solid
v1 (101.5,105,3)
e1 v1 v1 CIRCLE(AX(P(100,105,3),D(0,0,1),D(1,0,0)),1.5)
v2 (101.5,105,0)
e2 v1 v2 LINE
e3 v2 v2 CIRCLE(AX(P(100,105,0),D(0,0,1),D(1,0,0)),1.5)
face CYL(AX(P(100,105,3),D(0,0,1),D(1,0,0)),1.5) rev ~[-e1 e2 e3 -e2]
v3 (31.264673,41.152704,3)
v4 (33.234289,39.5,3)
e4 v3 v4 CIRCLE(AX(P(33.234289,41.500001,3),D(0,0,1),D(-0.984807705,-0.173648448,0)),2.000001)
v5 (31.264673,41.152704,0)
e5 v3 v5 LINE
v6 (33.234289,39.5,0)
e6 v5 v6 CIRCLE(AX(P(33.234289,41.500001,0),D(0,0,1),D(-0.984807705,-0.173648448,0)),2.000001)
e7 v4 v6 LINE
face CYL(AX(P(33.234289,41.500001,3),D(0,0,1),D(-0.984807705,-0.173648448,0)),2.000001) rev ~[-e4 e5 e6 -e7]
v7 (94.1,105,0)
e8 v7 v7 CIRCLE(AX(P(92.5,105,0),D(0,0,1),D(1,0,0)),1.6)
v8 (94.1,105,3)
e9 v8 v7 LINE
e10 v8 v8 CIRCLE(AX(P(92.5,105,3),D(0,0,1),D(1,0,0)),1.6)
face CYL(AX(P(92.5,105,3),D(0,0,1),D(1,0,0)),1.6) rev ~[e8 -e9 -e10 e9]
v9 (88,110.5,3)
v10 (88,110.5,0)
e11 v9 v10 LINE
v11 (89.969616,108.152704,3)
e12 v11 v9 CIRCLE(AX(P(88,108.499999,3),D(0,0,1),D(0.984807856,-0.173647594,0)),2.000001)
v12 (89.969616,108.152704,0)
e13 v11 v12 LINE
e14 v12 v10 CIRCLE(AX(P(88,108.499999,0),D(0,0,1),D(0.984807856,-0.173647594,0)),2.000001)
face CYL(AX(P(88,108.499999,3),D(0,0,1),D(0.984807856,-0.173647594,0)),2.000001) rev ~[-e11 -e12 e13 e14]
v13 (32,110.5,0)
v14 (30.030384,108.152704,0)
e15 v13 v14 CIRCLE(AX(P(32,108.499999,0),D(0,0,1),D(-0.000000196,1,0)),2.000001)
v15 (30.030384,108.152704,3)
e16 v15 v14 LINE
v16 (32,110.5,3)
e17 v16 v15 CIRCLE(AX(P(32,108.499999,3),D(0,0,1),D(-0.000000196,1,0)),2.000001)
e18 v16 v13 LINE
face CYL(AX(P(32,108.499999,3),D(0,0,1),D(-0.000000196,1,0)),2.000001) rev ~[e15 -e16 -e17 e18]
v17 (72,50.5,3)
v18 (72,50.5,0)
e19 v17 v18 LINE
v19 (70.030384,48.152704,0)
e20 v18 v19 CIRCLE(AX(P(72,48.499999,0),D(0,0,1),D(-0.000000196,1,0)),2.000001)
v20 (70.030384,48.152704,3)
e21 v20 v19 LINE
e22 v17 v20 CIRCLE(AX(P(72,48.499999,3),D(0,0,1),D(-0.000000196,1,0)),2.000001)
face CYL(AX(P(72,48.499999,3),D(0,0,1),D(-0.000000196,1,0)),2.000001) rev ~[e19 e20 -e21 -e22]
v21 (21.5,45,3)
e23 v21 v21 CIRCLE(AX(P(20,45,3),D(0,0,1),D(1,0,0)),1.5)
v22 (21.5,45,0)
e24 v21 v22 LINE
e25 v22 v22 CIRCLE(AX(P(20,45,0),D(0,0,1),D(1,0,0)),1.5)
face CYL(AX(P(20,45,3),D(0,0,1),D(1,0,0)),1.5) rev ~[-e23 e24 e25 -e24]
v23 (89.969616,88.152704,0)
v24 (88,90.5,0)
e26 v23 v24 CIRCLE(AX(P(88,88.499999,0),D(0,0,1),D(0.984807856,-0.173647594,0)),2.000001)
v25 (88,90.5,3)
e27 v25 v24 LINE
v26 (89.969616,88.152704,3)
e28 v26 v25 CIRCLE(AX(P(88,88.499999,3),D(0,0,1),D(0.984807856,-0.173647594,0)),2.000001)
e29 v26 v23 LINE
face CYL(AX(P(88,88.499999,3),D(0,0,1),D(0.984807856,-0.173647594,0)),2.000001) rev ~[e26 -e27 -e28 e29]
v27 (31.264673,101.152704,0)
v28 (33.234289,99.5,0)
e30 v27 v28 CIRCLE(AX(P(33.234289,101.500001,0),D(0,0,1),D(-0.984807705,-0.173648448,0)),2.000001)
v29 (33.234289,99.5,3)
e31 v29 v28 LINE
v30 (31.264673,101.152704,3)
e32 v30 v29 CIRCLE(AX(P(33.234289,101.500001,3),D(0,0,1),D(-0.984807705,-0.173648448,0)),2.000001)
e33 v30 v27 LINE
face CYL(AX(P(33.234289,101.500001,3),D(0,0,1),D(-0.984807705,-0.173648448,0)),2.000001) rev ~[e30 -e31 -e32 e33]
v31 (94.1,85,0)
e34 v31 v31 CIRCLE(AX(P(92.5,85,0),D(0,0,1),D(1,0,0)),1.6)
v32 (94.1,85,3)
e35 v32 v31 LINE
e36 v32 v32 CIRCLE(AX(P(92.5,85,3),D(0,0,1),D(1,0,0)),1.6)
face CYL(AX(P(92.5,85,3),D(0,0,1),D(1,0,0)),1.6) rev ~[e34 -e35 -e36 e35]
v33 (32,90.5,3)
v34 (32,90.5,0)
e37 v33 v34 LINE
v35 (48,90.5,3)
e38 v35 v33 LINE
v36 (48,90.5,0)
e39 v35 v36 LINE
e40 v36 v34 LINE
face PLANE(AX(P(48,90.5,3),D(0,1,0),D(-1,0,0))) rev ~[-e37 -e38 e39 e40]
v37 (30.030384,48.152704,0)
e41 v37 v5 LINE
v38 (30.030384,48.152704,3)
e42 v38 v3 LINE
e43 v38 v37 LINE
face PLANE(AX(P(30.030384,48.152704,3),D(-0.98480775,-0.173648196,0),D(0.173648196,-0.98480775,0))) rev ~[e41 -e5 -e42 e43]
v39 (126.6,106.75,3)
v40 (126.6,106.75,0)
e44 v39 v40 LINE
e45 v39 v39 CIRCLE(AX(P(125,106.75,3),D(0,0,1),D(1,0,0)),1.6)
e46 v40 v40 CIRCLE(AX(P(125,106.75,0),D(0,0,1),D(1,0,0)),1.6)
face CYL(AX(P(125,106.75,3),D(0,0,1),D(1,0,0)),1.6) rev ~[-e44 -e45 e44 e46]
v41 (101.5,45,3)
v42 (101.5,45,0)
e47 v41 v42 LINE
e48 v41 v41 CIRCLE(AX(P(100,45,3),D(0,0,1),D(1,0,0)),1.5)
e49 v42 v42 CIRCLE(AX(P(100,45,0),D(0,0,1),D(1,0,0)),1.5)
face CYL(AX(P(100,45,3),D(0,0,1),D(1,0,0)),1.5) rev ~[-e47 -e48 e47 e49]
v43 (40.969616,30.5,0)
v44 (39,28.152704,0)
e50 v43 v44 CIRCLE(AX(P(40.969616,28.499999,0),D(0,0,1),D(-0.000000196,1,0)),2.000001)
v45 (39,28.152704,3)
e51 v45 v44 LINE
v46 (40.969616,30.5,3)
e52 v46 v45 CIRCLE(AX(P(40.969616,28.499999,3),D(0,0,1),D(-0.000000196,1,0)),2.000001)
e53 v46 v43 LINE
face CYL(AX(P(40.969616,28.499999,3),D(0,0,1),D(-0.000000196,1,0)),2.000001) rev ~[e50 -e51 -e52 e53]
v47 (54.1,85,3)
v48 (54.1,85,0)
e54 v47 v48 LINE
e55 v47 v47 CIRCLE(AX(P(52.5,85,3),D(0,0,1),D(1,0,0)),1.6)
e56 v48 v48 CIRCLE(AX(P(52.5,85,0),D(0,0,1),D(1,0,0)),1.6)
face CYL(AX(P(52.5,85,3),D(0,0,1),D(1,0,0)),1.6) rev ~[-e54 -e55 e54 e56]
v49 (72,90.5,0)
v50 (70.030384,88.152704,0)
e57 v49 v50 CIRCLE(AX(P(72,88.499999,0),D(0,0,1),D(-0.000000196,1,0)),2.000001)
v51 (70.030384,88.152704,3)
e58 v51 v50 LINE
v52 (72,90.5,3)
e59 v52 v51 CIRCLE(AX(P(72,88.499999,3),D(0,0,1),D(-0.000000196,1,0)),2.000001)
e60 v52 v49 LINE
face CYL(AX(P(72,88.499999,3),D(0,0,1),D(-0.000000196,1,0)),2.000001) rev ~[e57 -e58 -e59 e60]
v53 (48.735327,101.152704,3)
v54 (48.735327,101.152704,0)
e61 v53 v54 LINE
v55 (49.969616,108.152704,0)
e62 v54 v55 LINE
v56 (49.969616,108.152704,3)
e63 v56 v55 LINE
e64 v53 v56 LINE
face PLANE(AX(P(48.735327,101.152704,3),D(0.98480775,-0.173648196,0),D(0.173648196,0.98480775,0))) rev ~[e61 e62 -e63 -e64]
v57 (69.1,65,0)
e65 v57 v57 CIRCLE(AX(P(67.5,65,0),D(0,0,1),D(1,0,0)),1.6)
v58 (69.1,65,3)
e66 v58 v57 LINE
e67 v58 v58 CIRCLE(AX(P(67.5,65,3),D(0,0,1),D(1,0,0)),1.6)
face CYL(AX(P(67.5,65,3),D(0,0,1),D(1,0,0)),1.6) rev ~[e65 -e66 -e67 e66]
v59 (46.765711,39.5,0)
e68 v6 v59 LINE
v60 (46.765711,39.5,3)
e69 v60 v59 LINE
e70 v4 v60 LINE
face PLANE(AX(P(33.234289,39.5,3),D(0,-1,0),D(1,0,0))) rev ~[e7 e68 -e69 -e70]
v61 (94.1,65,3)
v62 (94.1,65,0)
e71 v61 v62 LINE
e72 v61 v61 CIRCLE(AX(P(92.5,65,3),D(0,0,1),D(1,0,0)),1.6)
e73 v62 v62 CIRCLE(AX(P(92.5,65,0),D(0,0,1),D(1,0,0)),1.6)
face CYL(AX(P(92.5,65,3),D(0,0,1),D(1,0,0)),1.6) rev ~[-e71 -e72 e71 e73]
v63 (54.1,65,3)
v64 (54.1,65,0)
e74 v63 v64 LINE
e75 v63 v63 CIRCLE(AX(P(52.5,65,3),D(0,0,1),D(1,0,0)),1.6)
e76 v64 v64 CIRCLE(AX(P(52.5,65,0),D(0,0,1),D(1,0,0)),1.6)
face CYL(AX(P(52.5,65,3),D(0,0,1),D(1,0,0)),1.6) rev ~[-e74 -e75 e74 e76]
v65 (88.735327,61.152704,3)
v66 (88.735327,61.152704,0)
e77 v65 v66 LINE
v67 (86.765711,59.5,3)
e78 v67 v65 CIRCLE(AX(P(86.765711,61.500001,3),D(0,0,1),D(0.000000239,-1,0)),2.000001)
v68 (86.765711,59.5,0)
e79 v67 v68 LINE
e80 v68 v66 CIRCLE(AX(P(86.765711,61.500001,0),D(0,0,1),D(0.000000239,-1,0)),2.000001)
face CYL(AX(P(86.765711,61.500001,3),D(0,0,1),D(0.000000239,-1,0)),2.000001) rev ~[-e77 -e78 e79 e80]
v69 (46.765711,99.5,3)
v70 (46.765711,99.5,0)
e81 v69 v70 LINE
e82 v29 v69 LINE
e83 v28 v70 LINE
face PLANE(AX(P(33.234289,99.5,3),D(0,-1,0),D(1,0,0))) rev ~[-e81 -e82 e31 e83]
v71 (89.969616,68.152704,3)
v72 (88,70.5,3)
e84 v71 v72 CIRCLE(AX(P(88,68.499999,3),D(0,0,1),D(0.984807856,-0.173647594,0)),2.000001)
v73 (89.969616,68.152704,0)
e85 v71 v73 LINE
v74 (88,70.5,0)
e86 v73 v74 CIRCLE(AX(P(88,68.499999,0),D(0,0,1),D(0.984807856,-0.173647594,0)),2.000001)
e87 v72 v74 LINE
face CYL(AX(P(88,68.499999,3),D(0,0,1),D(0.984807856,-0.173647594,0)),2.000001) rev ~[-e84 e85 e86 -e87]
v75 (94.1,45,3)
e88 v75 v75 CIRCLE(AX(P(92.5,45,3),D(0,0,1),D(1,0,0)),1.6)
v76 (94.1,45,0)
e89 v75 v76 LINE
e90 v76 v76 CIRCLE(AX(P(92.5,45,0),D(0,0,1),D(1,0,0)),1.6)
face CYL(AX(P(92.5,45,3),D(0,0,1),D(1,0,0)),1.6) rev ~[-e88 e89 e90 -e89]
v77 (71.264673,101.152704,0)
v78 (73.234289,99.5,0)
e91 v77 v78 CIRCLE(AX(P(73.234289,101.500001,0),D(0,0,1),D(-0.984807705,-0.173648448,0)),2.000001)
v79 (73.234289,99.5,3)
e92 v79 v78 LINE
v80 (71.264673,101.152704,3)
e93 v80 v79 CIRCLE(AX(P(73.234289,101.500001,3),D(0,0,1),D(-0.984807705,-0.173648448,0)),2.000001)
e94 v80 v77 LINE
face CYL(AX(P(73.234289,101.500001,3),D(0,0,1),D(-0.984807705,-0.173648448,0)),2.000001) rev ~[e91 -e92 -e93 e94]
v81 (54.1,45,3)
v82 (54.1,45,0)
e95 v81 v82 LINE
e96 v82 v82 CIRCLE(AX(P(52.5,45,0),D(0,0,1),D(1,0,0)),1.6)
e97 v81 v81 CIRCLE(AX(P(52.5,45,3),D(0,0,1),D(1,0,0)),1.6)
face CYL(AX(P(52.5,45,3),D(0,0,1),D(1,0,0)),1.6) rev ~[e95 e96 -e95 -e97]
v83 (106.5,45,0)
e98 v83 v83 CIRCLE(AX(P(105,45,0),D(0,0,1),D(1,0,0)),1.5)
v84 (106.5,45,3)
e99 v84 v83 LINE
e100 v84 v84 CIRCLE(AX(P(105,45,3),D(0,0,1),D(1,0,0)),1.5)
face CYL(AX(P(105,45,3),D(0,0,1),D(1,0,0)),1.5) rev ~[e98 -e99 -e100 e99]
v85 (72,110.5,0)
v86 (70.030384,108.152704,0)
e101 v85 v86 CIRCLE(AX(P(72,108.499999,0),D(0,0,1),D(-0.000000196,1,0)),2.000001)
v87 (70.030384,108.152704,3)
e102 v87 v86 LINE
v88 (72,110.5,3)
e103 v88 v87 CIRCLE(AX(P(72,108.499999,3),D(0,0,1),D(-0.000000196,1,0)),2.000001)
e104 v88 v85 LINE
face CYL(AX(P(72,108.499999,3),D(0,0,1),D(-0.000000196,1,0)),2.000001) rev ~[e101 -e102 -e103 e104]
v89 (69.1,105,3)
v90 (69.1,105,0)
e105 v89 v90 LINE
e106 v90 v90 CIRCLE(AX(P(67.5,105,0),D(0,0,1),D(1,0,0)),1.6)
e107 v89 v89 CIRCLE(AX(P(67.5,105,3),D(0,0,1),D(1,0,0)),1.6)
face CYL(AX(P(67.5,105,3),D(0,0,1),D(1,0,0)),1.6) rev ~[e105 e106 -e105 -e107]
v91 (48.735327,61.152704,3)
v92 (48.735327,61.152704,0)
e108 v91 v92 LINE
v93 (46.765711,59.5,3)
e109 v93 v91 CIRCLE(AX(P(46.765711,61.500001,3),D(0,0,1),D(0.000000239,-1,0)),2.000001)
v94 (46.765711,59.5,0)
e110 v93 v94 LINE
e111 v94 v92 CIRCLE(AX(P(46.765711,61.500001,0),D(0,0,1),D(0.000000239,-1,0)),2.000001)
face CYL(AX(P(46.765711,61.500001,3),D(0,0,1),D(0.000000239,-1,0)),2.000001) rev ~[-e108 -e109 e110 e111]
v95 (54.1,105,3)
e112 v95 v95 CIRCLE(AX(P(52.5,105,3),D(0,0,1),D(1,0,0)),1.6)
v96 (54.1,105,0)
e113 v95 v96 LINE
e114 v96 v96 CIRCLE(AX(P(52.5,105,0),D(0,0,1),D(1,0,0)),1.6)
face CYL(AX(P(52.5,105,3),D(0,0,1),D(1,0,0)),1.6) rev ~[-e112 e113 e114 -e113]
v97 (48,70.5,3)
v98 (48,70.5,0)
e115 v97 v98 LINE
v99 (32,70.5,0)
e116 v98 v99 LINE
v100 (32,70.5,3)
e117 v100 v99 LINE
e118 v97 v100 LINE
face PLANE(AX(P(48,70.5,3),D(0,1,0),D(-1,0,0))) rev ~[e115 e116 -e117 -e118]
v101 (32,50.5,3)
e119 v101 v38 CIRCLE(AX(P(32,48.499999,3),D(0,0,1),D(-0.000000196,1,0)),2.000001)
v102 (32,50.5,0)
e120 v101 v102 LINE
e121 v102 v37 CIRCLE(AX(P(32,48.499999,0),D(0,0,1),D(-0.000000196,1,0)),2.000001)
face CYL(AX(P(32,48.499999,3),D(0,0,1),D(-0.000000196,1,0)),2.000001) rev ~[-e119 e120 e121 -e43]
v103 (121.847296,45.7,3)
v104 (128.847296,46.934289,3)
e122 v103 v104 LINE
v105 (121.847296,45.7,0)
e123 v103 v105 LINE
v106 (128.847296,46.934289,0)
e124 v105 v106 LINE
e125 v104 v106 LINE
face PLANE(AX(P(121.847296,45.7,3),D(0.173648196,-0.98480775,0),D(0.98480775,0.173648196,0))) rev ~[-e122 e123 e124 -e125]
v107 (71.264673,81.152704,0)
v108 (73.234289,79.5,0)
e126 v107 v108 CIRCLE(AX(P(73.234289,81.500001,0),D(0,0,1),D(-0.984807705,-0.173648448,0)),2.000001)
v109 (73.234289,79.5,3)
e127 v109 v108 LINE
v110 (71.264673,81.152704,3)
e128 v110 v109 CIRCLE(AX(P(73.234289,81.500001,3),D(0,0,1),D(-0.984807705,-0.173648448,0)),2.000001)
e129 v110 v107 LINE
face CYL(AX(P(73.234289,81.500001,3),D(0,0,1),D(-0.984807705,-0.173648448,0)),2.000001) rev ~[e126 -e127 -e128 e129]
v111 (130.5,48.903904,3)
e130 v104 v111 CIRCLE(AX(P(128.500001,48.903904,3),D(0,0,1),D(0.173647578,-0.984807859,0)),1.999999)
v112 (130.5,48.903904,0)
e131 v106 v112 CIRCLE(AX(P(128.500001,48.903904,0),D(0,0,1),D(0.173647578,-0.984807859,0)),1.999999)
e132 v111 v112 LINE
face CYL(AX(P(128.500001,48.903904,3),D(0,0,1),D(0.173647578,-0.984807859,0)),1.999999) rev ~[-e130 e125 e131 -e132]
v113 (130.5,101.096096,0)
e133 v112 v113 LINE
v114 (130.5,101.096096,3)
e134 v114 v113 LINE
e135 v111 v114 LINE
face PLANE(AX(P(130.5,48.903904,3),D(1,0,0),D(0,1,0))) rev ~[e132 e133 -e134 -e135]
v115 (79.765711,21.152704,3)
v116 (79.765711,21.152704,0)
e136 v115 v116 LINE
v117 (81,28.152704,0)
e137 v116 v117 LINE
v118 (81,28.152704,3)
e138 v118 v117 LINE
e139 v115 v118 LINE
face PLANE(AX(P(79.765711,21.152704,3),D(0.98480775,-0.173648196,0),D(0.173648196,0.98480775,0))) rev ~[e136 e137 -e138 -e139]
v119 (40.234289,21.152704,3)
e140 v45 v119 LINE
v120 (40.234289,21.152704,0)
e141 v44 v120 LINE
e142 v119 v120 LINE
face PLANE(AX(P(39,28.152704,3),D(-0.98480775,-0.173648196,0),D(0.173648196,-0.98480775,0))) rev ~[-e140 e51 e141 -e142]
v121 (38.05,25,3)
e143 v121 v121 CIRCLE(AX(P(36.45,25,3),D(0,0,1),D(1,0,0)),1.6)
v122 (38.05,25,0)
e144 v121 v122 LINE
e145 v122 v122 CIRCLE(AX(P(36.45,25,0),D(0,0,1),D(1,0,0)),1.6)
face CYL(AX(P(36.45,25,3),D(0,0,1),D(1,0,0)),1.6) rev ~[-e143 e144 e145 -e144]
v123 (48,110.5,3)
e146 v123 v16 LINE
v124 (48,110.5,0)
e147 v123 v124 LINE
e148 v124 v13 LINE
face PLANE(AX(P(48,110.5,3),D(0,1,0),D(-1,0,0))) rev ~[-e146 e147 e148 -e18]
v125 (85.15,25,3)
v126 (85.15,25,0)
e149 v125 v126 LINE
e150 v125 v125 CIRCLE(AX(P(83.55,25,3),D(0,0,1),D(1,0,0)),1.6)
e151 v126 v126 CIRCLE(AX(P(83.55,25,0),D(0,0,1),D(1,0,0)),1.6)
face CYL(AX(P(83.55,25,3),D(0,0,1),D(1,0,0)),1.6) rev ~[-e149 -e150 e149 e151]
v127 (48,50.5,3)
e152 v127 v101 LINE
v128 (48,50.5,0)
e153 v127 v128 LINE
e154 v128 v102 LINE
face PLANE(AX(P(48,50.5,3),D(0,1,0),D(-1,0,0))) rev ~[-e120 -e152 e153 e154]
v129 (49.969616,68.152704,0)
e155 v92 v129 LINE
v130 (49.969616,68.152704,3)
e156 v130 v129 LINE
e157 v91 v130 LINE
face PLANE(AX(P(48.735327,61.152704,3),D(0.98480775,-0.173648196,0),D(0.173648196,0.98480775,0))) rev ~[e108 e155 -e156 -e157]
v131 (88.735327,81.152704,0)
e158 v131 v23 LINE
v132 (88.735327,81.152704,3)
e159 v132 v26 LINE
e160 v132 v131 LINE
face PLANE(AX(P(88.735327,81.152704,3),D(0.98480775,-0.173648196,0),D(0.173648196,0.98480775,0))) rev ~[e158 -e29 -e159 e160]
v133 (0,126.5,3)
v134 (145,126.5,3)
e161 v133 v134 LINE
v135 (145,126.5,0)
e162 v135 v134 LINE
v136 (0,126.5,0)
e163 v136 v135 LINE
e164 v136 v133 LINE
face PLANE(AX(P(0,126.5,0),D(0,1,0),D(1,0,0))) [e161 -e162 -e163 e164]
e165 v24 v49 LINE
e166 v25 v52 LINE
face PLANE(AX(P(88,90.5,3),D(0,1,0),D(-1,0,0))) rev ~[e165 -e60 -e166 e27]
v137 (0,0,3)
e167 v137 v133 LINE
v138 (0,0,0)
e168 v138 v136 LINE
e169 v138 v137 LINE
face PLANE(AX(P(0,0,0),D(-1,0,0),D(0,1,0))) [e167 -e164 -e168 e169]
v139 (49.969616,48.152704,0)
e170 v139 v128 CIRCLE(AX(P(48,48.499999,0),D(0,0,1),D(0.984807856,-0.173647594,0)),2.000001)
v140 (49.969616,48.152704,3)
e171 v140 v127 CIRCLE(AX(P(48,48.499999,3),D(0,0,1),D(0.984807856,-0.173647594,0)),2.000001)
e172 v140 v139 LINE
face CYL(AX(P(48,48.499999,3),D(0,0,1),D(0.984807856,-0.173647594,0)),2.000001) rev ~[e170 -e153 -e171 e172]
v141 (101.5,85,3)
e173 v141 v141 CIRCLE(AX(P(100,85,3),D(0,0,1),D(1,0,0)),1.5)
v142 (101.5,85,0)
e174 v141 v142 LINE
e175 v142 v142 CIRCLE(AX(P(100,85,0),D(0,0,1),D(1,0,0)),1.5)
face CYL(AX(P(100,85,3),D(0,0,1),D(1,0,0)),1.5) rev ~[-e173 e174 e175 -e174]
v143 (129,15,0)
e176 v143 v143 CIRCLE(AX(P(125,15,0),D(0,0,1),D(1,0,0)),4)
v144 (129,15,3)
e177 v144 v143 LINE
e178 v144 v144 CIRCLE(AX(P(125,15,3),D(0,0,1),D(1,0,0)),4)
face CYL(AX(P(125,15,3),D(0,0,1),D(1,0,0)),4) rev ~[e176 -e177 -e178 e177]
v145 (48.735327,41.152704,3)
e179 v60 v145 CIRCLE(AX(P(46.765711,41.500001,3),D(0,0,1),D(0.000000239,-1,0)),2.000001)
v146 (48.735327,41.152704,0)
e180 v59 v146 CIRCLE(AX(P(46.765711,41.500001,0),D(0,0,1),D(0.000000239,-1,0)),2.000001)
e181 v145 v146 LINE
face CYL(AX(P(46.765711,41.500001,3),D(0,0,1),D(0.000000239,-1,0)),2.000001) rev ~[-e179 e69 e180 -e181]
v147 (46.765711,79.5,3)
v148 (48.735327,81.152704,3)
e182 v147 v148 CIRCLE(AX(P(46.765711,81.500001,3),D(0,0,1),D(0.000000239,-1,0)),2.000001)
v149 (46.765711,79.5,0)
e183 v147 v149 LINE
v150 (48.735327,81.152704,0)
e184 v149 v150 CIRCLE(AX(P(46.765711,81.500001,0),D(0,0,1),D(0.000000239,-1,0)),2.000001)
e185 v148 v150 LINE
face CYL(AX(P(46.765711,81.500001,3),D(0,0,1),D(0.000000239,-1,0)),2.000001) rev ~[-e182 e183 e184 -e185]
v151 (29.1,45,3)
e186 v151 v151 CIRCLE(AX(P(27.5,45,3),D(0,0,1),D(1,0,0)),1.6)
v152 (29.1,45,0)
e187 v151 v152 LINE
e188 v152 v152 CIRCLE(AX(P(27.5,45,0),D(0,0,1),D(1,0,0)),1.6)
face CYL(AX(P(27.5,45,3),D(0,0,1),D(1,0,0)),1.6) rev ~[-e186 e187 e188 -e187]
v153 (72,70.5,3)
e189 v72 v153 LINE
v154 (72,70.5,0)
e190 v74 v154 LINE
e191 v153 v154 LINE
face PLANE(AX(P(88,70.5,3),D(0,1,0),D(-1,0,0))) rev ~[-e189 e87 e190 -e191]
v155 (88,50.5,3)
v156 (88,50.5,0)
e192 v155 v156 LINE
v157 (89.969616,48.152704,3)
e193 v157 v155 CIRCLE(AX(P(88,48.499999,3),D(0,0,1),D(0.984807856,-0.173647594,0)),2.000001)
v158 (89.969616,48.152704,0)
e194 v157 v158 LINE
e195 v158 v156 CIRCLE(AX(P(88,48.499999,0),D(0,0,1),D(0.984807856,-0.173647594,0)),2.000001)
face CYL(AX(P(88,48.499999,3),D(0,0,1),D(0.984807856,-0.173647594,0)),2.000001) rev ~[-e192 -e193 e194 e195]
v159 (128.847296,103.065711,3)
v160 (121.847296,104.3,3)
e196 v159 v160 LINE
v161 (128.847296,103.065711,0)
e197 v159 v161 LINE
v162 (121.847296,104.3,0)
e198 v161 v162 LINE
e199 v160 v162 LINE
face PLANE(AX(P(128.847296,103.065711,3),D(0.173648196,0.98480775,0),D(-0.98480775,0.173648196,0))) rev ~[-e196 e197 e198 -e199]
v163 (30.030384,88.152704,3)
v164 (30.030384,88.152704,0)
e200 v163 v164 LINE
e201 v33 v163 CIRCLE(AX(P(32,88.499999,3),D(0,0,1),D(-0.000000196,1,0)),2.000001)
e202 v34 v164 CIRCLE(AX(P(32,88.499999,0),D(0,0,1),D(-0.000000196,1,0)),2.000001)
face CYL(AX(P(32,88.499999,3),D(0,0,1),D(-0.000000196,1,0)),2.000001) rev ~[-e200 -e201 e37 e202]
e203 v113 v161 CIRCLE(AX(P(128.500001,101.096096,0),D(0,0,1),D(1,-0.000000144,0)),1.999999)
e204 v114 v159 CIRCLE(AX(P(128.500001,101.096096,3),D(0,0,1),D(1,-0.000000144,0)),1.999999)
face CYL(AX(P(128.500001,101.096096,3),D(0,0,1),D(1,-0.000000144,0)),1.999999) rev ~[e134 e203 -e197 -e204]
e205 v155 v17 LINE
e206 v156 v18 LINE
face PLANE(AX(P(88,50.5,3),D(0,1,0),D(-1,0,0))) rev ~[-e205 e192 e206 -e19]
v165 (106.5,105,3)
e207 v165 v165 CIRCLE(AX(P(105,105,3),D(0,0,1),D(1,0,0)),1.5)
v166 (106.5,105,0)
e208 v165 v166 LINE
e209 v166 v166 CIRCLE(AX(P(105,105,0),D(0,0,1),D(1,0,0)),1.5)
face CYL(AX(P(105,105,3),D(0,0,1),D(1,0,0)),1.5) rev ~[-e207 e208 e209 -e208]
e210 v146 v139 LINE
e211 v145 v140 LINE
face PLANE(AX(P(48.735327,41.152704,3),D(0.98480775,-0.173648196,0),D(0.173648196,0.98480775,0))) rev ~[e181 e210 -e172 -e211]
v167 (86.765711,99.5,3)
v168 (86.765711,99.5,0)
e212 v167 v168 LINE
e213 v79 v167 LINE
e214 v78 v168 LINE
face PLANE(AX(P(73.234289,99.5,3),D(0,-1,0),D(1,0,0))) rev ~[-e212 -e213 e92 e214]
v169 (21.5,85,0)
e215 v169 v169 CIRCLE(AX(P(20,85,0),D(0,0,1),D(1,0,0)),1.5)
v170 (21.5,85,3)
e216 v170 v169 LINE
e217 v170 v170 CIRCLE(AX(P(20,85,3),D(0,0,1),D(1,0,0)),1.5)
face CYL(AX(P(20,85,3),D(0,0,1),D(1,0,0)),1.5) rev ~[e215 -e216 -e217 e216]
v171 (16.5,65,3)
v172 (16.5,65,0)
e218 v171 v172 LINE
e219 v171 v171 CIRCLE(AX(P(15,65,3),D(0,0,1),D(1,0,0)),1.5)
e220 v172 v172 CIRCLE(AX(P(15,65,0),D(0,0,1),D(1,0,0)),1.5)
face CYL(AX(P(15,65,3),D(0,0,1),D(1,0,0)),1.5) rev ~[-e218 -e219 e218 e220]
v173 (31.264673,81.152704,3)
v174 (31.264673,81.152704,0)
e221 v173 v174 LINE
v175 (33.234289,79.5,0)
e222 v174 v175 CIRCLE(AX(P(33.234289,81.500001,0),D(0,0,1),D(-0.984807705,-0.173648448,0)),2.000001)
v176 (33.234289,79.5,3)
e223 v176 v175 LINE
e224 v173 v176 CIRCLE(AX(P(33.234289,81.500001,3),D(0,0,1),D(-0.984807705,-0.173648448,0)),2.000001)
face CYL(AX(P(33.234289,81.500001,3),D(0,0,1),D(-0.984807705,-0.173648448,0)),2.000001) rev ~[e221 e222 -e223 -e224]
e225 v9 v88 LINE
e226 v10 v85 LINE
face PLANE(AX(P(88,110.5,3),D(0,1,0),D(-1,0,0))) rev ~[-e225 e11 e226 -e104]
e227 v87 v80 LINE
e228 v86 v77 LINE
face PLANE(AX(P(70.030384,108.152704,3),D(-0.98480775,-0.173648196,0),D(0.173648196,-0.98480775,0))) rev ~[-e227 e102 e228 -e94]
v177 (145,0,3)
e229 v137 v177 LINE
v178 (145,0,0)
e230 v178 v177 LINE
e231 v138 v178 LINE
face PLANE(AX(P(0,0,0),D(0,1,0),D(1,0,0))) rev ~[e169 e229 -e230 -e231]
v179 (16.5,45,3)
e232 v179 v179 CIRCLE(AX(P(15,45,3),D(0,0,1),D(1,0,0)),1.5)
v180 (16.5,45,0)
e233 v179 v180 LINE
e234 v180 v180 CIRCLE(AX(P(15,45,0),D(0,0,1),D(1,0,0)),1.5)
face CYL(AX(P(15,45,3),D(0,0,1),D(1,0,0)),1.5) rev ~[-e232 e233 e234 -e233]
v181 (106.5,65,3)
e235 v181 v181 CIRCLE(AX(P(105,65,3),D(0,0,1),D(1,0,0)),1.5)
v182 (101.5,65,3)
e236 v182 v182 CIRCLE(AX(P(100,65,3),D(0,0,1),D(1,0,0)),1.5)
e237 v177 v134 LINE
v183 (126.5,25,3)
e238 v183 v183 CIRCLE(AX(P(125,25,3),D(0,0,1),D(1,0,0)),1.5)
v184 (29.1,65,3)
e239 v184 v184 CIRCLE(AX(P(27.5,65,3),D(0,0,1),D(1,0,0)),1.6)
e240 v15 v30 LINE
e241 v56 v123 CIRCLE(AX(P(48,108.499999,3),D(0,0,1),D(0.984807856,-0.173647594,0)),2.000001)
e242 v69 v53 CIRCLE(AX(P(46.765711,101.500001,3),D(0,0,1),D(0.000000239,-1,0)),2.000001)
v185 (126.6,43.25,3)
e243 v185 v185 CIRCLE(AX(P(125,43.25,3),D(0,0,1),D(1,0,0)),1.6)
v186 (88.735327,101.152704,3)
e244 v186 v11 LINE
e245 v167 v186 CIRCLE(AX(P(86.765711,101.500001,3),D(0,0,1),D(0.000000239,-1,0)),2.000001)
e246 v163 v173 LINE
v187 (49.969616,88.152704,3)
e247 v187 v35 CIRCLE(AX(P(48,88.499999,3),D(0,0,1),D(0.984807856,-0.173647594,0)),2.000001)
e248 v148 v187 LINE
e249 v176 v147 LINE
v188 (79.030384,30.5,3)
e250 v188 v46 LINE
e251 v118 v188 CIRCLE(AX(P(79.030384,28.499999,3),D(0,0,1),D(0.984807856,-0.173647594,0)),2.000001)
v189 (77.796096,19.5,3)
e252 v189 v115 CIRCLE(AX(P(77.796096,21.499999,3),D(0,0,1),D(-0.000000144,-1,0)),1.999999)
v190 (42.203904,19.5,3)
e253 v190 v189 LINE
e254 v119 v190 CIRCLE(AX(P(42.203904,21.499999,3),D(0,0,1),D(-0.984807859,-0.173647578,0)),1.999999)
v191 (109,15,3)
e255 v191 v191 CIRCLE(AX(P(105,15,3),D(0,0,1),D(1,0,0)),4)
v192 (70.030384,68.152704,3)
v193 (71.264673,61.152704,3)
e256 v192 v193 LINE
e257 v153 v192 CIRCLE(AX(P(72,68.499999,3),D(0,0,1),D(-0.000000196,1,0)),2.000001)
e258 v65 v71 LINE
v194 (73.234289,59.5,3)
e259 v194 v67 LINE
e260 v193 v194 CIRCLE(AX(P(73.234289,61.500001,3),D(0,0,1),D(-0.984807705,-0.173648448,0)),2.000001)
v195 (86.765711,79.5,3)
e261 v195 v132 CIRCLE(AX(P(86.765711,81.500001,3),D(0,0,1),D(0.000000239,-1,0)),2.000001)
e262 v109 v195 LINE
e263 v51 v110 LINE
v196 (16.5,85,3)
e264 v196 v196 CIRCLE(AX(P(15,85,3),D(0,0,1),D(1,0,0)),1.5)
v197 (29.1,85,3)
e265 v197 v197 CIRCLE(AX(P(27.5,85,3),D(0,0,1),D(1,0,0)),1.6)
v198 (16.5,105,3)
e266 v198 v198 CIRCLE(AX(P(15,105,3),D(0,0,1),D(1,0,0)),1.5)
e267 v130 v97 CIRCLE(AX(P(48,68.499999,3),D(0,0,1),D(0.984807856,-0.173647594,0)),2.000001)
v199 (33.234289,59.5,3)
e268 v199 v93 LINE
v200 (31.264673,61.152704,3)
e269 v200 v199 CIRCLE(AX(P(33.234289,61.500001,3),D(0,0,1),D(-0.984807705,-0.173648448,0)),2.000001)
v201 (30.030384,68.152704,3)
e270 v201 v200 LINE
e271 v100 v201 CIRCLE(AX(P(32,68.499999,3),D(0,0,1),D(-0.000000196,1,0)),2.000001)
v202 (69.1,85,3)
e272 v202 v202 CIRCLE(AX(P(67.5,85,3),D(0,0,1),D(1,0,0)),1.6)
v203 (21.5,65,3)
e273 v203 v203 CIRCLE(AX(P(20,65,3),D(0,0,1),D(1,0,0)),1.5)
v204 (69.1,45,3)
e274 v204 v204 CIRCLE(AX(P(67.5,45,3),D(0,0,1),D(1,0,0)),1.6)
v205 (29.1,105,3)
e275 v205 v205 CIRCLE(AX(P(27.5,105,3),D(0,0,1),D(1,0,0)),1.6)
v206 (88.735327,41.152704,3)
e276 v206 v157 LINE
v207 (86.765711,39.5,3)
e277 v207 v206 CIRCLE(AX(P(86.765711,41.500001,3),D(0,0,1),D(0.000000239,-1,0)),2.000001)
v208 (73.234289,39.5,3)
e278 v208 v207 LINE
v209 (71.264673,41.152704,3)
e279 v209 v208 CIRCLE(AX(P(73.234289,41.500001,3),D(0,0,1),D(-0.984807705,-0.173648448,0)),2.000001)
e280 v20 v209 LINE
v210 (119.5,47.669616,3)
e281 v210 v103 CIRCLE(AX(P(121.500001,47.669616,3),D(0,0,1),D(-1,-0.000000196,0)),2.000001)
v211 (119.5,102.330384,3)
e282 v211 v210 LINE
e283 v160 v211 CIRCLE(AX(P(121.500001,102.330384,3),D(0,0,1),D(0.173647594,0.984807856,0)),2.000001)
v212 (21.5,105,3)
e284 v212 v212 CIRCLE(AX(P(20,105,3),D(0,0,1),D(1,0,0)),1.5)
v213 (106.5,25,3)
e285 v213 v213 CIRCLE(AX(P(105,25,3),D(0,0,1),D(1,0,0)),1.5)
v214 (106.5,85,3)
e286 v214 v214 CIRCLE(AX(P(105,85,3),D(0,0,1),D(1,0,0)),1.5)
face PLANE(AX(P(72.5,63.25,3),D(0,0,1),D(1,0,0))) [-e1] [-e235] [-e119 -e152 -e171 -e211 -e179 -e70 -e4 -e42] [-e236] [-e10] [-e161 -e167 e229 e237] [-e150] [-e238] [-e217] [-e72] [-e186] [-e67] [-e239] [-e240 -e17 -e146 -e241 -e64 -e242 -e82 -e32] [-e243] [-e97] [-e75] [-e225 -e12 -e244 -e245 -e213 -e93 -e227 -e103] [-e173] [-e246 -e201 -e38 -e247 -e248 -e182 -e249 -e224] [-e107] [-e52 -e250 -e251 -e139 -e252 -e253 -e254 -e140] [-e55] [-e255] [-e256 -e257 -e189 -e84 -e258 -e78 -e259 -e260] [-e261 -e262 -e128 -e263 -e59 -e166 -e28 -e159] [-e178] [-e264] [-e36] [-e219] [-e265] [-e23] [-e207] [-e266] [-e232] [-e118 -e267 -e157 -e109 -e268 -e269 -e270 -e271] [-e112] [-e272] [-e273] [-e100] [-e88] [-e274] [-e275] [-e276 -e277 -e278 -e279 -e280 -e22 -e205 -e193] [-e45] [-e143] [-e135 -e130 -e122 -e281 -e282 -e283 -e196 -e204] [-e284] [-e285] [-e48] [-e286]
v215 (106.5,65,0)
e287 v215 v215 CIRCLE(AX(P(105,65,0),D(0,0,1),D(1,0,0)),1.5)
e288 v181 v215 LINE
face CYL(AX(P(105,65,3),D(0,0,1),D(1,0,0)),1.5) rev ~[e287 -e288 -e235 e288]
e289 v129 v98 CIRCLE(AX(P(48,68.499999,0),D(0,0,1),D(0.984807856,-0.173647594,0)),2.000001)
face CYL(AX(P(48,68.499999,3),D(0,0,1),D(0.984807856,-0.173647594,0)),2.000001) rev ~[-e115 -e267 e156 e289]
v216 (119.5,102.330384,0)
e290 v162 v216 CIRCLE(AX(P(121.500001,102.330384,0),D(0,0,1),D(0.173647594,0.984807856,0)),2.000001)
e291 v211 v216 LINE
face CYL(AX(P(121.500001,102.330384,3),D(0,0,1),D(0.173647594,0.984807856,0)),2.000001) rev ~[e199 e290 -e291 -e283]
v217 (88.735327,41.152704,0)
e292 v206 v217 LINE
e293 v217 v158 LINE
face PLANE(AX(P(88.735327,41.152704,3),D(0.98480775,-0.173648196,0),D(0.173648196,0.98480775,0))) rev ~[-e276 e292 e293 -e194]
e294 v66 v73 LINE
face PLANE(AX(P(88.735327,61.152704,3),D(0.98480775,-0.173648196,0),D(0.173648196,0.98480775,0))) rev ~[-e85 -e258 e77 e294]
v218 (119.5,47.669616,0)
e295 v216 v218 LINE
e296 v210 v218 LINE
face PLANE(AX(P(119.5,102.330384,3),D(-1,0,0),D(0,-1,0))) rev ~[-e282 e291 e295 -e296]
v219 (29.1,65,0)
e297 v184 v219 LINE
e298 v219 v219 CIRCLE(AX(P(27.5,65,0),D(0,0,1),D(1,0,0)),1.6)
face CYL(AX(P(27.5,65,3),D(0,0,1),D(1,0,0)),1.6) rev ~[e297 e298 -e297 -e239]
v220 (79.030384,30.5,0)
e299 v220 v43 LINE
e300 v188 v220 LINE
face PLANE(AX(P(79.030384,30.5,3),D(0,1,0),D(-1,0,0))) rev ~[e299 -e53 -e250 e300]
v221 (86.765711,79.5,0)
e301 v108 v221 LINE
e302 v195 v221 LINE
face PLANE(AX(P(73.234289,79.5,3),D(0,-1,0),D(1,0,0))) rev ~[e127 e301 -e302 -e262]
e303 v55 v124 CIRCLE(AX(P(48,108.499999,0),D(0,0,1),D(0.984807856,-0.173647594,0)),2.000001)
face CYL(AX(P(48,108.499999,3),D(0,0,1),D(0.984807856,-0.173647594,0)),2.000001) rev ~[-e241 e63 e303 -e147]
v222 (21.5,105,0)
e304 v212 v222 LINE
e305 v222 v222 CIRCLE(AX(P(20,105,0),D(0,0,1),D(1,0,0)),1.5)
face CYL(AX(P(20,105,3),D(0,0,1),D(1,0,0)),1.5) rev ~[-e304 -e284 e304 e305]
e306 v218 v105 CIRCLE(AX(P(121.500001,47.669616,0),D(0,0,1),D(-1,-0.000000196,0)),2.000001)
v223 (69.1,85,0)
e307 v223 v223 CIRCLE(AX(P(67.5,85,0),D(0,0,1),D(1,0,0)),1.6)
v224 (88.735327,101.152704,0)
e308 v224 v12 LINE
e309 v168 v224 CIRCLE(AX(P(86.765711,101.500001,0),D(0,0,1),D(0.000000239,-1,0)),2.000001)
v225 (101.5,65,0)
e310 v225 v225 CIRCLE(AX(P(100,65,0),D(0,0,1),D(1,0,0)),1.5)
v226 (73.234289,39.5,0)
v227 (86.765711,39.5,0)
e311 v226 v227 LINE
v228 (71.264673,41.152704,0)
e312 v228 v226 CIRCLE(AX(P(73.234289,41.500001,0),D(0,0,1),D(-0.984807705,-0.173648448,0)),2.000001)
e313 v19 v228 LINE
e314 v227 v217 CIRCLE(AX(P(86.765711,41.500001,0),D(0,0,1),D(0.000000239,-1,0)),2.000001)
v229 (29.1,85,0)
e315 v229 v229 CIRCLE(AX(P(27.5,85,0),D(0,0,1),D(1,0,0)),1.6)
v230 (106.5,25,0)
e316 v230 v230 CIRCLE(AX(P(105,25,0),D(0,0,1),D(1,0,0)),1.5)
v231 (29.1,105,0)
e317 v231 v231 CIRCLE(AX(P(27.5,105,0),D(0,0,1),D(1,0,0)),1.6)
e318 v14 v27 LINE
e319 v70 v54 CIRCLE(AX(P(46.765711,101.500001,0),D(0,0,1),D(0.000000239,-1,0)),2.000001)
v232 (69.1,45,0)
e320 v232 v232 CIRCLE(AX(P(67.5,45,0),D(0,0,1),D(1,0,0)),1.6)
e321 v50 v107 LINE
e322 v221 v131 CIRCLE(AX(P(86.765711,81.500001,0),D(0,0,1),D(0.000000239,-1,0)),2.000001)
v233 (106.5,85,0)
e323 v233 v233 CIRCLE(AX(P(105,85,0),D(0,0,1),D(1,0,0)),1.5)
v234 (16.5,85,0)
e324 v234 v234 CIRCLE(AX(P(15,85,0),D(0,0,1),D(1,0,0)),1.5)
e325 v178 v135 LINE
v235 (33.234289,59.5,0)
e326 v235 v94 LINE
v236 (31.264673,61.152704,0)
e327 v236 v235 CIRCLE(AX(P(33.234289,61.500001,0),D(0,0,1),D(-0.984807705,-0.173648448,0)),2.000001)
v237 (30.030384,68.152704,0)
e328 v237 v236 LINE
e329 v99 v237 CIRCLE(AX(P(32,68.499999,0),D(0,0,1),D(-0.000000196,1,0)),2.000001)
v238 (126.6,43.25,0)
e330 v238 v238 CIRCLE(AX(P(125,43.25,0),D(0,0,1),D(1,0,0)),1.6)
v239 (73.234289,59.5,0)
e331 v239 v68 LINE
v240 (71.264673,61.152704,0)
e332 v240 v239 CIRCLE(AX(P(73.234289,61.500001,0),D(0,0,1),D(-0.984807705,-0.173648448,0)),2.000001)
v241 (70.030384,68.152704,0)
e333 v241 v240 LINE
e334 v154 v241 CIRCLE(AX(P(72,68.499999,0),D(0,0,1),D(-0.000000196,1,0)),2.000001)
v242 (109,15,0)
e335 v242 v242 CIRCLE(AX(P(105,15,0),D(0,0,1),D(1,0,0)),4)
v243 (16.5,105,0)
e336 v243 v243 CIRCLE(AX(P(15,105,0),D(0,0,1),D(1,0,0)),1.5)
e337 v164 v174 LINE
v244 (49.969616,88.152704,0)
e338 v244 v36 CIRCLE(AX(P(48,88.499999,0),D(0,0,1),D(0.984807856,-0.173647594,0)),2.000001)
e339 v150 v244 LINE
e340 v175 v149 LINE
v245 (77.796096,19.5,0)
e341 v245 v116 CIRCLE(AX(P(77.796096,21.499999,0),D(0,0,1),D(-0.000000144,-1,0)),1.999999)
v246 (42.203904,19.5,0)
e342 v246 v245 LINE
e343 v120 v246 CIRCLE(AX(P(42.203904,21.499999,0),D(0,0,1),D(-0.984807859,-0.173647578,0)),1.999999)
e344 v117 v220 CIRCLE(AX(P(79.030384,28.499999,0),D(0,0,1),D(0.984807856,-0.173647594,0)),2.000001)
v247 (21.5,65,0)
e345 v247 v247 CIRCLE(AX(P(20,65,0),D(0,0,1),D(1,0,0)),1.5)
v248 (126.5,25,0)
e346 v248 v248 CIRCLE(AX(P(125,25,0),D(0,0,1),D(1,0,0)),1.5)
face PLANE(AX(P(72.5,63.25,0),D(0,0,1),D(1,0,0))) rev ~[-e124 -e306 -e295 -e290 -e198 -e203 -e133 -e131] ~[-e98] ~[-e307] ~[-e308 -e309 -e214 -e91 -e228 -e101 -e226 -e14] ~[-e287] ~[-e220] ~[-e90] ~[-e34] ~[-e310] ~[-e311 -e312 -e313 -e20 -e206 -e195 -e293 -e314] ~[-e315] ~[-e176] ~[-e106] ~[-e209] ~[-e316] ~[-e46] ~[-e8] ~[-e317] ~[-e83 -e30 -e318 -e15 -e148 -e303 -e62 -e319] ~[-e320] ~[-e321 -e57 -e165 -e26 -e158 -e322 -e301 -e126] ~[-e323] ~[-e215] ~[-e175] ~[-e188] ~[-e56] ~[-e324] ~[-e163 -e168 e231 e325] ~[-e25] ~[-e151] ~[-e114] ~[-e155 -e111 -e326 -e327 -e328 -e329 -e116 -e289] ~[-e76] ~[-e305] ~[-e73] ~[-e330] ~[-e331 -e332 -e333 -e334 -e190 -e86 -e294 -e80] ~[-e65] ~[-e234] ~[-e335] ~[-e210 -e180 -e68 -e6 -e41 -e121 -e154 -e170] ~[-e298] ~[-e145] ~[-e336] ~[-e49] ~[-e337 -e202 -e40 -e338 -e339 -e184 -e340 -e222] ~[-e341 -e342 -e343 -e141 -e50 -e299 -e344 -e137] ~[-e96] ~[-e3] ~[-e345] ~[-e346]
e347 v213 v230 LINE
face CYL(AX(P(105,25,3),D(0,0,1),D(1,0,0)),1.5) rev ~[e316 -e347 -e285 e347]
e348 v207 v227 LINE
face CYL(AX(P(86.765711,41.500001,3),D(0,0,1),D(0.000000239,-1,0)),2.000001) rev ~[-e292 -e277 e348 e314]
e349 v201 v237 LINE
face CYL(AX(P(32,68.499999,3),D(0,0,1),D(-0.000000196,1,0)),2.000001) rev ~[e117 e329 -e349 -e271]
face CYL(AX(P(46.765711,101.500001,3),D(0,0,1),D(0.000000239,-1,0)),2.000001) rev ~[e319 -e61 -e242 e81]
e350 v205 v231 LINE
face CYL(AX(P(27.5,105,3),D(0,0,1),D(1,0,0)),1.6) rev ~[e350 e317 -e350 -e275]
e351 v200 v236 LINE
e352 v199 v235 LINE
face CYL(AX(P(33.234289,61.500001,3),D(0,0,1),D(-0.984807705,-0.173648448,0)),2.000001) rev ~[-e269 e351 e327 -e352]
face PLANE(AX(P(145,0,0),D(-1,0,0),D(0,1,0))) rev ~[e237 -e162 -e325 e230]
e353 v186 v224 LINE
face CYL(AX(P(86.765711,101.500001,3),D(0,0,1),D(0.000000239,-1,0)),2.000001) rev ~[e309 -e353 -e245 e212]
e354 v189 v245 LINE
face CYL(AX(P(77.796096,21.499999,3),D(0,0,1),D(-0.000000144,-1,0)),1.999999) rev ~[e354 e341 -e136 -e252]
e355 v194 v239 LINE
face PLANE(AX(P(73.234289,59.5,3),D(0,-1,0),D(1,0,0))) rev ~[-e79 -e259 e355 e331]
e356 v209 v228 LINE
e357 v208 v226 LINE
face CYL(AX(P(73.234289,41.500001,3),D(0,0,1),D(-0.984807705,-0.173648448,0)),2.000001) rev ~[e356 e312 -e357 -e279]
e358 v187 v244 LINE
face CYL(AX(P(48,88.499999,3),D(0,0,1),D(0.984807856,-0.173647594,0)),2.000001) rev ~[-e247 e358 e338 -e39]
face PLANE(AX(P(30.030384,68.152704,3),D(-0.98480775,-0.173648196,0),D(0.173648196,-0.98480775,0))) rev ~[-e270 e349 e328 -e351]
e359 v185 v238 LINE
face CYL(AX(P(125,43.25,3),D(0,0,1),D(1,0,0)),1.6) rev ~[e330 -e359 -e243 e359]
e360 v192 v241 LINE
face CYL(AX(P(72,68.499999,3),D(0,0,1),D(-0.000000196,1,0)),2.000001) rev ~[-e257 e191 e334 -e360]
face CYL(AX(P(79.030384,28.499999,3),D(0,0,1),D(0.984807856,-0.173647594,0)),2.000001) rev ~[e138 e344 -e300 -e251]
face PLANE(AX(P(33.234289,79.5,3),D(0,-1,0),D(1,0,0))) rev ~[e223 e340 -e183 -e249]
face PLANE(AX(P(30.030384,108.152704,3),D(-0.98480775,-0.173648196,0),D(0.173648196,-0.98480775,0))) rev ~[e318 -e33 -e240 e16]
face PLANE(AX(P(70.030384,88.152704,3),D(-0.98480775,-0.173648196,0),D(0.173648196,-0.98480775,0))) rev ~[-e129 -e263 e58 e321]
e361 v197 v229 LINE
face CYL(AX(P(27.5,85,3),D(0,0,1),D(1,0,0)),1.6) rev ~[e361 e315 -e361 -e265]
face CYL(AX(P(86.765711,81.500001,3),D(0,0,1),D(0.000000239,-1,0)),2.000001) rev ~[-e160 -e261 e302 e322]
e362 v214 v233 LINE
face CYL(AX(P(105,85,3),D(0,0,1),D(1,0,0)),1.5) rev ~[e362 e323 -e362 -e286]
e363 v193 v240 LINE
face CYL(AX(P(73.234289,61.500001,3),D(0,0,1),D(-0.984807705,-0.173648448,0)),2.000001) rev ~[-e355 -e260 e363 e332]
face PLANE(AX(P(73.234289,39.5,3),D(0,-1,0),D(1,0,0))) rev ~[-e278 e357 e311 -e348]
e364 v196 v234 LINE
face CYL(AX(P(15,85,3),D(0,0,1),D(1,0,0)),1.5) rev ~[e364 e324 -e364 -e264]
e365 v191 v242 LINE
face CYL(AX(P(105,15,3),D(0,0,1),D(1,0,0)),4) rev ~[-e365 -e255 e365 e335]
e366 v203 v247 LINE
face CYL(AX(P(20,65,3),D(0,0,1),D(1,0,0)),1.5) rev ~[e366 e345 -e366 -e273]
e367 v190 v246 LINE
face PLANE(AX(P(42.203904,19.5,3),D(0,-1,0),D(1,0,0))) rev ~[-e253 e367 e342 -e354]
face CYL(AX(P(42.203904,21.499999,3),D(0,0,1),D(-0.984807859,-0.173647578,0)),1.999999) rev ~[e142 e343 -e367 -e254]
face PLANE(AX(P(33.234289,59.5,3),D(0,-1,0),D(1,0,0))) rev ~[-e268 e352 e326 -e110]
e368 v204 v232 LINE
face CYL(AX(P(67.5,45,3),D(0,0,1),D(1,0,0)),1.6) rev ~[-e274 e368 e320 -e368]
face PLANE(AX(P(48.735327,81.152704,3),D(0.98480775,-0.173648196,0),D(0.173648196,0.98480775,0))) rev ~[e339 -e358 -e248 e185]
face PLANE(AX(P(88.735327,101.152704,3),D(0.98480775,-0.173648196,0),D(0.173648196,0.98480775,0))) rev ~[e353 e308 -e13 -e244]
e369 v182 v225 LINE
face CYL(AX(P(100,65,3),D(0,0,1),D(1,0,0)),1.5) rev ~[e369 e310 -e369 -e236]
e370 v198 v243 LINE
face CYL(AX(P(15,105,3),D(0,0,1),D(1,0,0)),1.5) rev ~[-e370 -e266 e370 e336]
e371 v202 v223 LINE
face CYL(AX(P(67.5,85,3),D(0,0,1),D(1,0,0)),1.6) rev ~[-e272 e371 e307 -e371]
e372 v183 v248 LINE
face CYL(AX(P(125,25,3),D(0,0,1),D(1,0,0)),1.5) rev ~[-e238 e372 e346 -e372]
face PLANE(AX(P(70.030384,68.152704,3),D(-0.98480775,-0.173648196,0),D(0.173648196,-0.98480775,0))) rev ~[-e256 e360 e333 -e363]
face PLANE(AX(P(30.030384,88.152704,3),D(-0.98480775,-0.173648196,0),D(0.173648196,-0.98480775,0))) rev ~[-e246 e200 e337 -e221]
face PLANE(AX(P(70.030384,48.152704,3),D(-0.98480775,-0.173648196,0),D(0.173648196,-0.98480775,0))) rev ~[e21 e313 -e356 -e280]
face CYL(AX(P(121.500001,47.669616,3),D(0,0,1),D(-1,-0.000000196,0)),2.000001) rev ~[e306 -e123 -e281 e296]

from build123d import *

# Parameters (mm, degrees)
F0_W      = 145
F0_H      = 126.5
F1_DEPTH  = 3
F2_R      = 1.5
F3_DEPTH  = 3.001
F4_R      = 1.6
F5_DEPTH  = 3.001
F7_R      = 1.6
F8_DEPTH  = 3.001
F9_R      = 1.6
F10_DEPTH = 3.001
F11_R     = 4
F11_R_2   = 1.5
F12_DEPTH = 3.001
F13_DEPTH = 3.001
F15_DEPTH = 3.001
F17_DEPTH = 3.001


with BuildPart() as f1:
    # F0 (on Top) → F1 (new body)
    with BuildSketch(Plane.XY):
        with Locations((72.5, 63.25)):
            Rectangle(F0_W, F0_H)
    extrude(amount=F1_DEPTH)

    # F2 (on face) → F3 (cut, through all)
    with BuildSketch(Plane.XY.offset(3)):
        with Locations((15, 105)):
            Circle(F2_R)
        with Locations((20, 105)):
            Circle(F2_R)
        with Locations((100, 105)):
            Circle(F2_R)
        with Locations((105, 105)):
            Circle(F2_R)
        with Locations((15, 85)):
            Circle(F2_R)
        with Locations((20, 85)):
            Circle(F2_R)
        with Locations((15, 65)):
            Circle(F2_R)
        with Locations((20, 65)):
            Circle(F2_R)
        with Locations((15, 45)):
            Circle(F2_R)
        with Locations((20, 45)):
            Circle(F2_R)
        with Locations((100, 85)):
            Circle(F2_R)
        with Locations((105, 85)):
            Circle(F2_R)
        with Locations((100, 65)):
            Circle(F2_R)
        with Locations((105, 65)):
            Circle(F2_R)
        with Locations((100, 45)):
            Circle(F2_R)
        with Locations((105, 45)):
            Circle(F2_R)
    extrude(amount=-F3_DEPTH, mode=Mode.SUBTRACT)

    # F4 (on face) → F5 (cut, through all)
    with BuildSketch(Plane.XY.offset(3)):
        with Locations((27.5, 105)):
            Circle(F4_R)
        with Locations((67.5, 105)):
            Circle(F4_R)
        with Locations((27.5, 85)):
            Circle(F4_R)
        with Locations((67.5, 85)):
            Circle(F4_R)
        with Locations((27.5, 65)):
            Circle(F4_R)
        with Locations((67.5, 65)):
            Circle(F4_R)
        with Locations((27.5, 45)):
            Circle(F4_R)
        with Locations((67.5, 45)):
            Circle(F4_R)
        with Locations((52.5, 105)):
            Circle(F4_R)
        with Locations((92.5, 105)):
            Circle(F4_R)
        with Locations((52.5, 85)):
            Circle(F4_R)
        with Locations((92.5, 85)):
            Circle(F4_R)
        with Locations((52.5, 65)):
            Circle(F4_R)
        with Locations((92.5, 65)):
            Circle(F4_R)
        with Locations((52.5, 45)):
            Circle(F4_R)
        with Locations((92.5, 45)):
            Circle(F4_R)
    extrude(amount=-F5_DEPTH, mode=Mode.SUBTRACT)

    # F7 (on face) → F8 (cut, through all)
    with BuildSketch(Plane.XY.offset(3)):
        with Locations((125, 106.75)):
            Circle(F7_R)
        with Locations((125, 43.25)):
            Circle(F7_R)
    extrude(amount=-F8_DEPTH, mode=Mode.SUBTRACT)

    # F9 (on face) → F10 (cut, through all)
    with BuildSketch(Plane.XY.offset(3)):
        with Locations((36.45, 25)):
            Circle(F9_R)
        with Locations((83.55, 25)):
            Circle(F9_R)
    extrude(amount=-F10_DEPTH, mode=Mode.SUBTRACT)

    # F11 (on face) → F12 (cut, through all)
    with BuildSketch(Plane.XY.offset(3)):
        with Locations((105, 15)):
            Circle(F11_R)
        with Locations((125, 15)):
            Circle(F11_R)
        with Locations((105, 25)):
            Circle(F11_R_2)
        with Locations((125, 25)):
            Circle(F11_R_2)
    extrude(amount=-F12_DEPTH, mode=Mode.SUBTRACT)

    # F6 (on face) → F13 (cut, through all)
    with BuildSketch(Plane.XY.offset(3)):
        with BuildLine():
            Line((48, 110.5), (32, 110.5))
            ThreePointArc((32, 110.5), (30.467911, 109.785575), (30.030384, 108.152704))
            Line((30.030384, 108.152704), (31.264673, 101.152704))
            ThreePointArc((31.264673, 101.152704), (31.948714, 99.967911), (33.234289, 99.5))
            Line((33.234289, 99.5), (46.765711, 99.5))
            ThreePointArc((46.765711, 99.5), (48.051286, 99.967911), (48.735327, 101.152704))
            Line((48.735327, 101.152704), (49.969616, 108.152704))
            ThreePointArc((49.969616, 108.152704), (49.532089, 109.785575), (48, 110.5))
        make_face()
        with BuildLine():
            Line((88, 110.5), (72, 110.5))
            ThreePointArc((72, 110.5), (70.467911, 109.785575), (70.030384, 108.152704))
            Line((70.030384, 108.152704), (71.264673, 101.152704))
            ThreePointArc((71.264673, 101.152704), (71.948714, 99.967911), (73.234289, 99.5))
            Line((73.234289, 99.5), (86.765711, 99.5))
            ThreePointArc((86.765711, 99.5), (88.051286, 99.967911), (88.735327, 101.152704))
            Line((88.735327, 101.152704), (89.969616, 108.152704))
            ThreePointArc((89.969616, 108.152704), (89.532089, 109.785575), (88, 110.5))
        make_face()
        with BuildLine():
            Line((48, 90.5), (32, 90.5))
            ThreePointArc((32, 90.5), (30.467911, 89.785575), (30.030384, 88.152704))
            Line((30.030384, 88.152704), (31.264673, 81.152704))
            ThreePointArc((31.264673, 81.152704), (31.948714, 79.967911), (33.234289, 79.5))
            Line((33.234289, 79.5), (46.765711, 79.5))
            ThreePointArc((46.765711, 79.5), (48.051286, 79.967911), (48.735327, 81.152704))
            Line((48.735327, 81.152704), (49.969616, 88.152704))
            ThreePointArc((49.969616, 88.152704), (49.532089, 89.785575), (48, 90.5))
        make_face()
        with BuildLine():
            Line((88, 90.5), (72, 90.5))
            ThreePointArc((72, 90.5), (70.467911, 89.785575), (70.030384, 88.152704))
            Line((70.030384, 88.152704), (71.264673, 81.152704))
            ThreePointArc((71.264673, 81.152704), (71.948714, 79.967911), (73.234289, 79.5))
            Line((73.234289, 79.5), (86.765711, 79.5))
            ThreePointArc((86.765711, 79.5), (88.051286, 79.967911), (88.735327, 81.152704))
            Line((88.735327, 81.152704), (89.969616, 88.152704))
            ThreePointArc((89.969616, 88.152704), (89.532089, 89.785575), (88, 90.5))
        make_face()
        with BuildLine():
            Line((48, 70.5), (32, 70.5))
            ThreePointArc((32, 70.5), (30.467911, 69.785575), (30.030384, 68.152704))
            Line((30.030384, 68.152704), (31.264673, 61.152704))
            ThreePointArc((31.264673, 61.152704), (31.948714, 59.967911), (33.234289, 59.5))
            Line((33.234289, 59.5), (46.765711, 59.5))
            ThreePointArc((46.765711, 59.5), (48.051286, 59.967911), (48.735327, 61.152704))
            Line((48.735327, 61.152704), (49.969616, 68.152704))
            ThreePointArc((49.969616, 68.152704), (49.532089, 69.785575), (48, 70.5))
        make_face()
        with BuildLine():
            Line((88, 70.5), (72, 70.5))
            ThreePointArc((72, 70.5), (70.467911, 69.785575), (70.030384, 68.152704))
            Line((70.030384, 68.152704), (71.264673, 61.152704))
            ThreePointArc((71.264673, 61.152704), (71.948714, 59.967911), (73.234289, 59.5))
            Line((73.234289, 59.5), (86.765711, 59.5))
            ThreePointArc((86.765711, 59.5), (88.051286, 59.967911), (88.735327, 61.152704))
            Line((88.735327, 61.152704), (89.969616, 68.152704))
            ThreePointArc((89.969616, 68.152704), (89.532089, 69.785575), (88, 70.5))
        make_face()
        with BuildLine():
            Line((48, 50.5), (32, 50.5))
            ThreePointArc((32, 50.5), (30.467911, 49.785575), (30.030384, 48.152704))
            Line((30.030384, 48.152704), (31.264673, 41.152704))
            ThreePointArc((31.264673, 41.152704), (31.948714, 39.967911), (33.234289, 39.5))
            Line((33.234289, 39.5), (46.765711, 39.5))
            ThreePointArc((46.765711, 39.5), (48.051286, 39.967911), (48.735327, 41.152704))
            Line((48.735327, 41.152704), (49.969616, 48.152704))
            ThreePointArc((49.969616, 48.152704), (49.532089, 49.785575), (48, 50.5))
        make_face()
        with BuildLine():
            Line((88, 50.5), (72, 50.5))
            ThreePointArc((72, 50.5), (70.467911, 49.785575), (70.030384, 48.152704))
            Line((70.030384, 48.152704), (71.264673, 41.152704))
            ThreePointArc((71.264673, 41.152704), (71.948714, 39.967911), (73.234289, 39.5))
            Line((73.234289, 39.5), (86.765711, 39.5))
            ThreePointArc((86.765711, 39.5), (88.051286, 39.967911), (88.735327, 41.152704))
            Line((88.735327, 41.152704), (89.969616, 48.152704))
            ThreePointArc((89.969616, 48.152704), (89.532089, 49.785575), (88, 50.5))
        make_face()
    extrude(amount=-F13_DEPTH, mode=Mode.SUBTRACT)

    # F14 (on face) → F15 (cut, through all)
    with BuildSketch(Plane.XY.offset(3)):
        with BuildLine():
            ThreePointArc((121.847296, 104.3), (120.214425, 103.862473), (119.5, 102.330384))
            Line((119.5, 102.330384), (119.5, 47.669616))
            ThreePointArc((119.5, 47.669616), (120.214425, 46.137527), (121.847296, 45.7))
            Line((121.847296, 45.7), (128.847296, 46.934289))
            ThreePointArc((128.847296, 46.934289), (130.032089, 47.618329), (130.5, 48.903904))
            Line((130.5, 48.903904), (130.5, 101.096096))
            ThreePointArc((130.5, 101.096096), (130.032089, 102.381671), (128.847296, 103.065711))
            Line((128.847296, 103.065711), (121.847296, 104.3))
        make_face()
    extrude(amount=-F15_DEPTH, mode=Mode.SUBTRACT)

    # F16 (on face) → F17 (cut, through all)
    with BuildSketch(Plane.XY.offset(3)):
        with BuildLine():
            Line((79.030384, 30.5), (40.969616, 30.5))
            ThreePointArc((40.969616, 30.5), (39.437527, 29.785575), (39, 28.152704))
            Line((39, 28.152704), (40.234289, 21.152704))
            ThreePointArc((40.234289, 21.152704), (40.918329, 19.967911), (42.203904, 19.5))
            Line((42.203904, 19.5), (77.796096, 19.5))
            ThreePointArc((77.796096, 19.5), (79.081671, 19.967911), (79.765711, 21.152704))
            Line((79.765711, 21.152704), (81, 28.152704))
            ThreePointArc((81, 28.152704), (80.562473, 29.785575), (79.030384, 30.5))
        make_face()
    extrude(amount=-F17_DEPTH, mode=Mode.SUBTRACT)


solid = f1.part
